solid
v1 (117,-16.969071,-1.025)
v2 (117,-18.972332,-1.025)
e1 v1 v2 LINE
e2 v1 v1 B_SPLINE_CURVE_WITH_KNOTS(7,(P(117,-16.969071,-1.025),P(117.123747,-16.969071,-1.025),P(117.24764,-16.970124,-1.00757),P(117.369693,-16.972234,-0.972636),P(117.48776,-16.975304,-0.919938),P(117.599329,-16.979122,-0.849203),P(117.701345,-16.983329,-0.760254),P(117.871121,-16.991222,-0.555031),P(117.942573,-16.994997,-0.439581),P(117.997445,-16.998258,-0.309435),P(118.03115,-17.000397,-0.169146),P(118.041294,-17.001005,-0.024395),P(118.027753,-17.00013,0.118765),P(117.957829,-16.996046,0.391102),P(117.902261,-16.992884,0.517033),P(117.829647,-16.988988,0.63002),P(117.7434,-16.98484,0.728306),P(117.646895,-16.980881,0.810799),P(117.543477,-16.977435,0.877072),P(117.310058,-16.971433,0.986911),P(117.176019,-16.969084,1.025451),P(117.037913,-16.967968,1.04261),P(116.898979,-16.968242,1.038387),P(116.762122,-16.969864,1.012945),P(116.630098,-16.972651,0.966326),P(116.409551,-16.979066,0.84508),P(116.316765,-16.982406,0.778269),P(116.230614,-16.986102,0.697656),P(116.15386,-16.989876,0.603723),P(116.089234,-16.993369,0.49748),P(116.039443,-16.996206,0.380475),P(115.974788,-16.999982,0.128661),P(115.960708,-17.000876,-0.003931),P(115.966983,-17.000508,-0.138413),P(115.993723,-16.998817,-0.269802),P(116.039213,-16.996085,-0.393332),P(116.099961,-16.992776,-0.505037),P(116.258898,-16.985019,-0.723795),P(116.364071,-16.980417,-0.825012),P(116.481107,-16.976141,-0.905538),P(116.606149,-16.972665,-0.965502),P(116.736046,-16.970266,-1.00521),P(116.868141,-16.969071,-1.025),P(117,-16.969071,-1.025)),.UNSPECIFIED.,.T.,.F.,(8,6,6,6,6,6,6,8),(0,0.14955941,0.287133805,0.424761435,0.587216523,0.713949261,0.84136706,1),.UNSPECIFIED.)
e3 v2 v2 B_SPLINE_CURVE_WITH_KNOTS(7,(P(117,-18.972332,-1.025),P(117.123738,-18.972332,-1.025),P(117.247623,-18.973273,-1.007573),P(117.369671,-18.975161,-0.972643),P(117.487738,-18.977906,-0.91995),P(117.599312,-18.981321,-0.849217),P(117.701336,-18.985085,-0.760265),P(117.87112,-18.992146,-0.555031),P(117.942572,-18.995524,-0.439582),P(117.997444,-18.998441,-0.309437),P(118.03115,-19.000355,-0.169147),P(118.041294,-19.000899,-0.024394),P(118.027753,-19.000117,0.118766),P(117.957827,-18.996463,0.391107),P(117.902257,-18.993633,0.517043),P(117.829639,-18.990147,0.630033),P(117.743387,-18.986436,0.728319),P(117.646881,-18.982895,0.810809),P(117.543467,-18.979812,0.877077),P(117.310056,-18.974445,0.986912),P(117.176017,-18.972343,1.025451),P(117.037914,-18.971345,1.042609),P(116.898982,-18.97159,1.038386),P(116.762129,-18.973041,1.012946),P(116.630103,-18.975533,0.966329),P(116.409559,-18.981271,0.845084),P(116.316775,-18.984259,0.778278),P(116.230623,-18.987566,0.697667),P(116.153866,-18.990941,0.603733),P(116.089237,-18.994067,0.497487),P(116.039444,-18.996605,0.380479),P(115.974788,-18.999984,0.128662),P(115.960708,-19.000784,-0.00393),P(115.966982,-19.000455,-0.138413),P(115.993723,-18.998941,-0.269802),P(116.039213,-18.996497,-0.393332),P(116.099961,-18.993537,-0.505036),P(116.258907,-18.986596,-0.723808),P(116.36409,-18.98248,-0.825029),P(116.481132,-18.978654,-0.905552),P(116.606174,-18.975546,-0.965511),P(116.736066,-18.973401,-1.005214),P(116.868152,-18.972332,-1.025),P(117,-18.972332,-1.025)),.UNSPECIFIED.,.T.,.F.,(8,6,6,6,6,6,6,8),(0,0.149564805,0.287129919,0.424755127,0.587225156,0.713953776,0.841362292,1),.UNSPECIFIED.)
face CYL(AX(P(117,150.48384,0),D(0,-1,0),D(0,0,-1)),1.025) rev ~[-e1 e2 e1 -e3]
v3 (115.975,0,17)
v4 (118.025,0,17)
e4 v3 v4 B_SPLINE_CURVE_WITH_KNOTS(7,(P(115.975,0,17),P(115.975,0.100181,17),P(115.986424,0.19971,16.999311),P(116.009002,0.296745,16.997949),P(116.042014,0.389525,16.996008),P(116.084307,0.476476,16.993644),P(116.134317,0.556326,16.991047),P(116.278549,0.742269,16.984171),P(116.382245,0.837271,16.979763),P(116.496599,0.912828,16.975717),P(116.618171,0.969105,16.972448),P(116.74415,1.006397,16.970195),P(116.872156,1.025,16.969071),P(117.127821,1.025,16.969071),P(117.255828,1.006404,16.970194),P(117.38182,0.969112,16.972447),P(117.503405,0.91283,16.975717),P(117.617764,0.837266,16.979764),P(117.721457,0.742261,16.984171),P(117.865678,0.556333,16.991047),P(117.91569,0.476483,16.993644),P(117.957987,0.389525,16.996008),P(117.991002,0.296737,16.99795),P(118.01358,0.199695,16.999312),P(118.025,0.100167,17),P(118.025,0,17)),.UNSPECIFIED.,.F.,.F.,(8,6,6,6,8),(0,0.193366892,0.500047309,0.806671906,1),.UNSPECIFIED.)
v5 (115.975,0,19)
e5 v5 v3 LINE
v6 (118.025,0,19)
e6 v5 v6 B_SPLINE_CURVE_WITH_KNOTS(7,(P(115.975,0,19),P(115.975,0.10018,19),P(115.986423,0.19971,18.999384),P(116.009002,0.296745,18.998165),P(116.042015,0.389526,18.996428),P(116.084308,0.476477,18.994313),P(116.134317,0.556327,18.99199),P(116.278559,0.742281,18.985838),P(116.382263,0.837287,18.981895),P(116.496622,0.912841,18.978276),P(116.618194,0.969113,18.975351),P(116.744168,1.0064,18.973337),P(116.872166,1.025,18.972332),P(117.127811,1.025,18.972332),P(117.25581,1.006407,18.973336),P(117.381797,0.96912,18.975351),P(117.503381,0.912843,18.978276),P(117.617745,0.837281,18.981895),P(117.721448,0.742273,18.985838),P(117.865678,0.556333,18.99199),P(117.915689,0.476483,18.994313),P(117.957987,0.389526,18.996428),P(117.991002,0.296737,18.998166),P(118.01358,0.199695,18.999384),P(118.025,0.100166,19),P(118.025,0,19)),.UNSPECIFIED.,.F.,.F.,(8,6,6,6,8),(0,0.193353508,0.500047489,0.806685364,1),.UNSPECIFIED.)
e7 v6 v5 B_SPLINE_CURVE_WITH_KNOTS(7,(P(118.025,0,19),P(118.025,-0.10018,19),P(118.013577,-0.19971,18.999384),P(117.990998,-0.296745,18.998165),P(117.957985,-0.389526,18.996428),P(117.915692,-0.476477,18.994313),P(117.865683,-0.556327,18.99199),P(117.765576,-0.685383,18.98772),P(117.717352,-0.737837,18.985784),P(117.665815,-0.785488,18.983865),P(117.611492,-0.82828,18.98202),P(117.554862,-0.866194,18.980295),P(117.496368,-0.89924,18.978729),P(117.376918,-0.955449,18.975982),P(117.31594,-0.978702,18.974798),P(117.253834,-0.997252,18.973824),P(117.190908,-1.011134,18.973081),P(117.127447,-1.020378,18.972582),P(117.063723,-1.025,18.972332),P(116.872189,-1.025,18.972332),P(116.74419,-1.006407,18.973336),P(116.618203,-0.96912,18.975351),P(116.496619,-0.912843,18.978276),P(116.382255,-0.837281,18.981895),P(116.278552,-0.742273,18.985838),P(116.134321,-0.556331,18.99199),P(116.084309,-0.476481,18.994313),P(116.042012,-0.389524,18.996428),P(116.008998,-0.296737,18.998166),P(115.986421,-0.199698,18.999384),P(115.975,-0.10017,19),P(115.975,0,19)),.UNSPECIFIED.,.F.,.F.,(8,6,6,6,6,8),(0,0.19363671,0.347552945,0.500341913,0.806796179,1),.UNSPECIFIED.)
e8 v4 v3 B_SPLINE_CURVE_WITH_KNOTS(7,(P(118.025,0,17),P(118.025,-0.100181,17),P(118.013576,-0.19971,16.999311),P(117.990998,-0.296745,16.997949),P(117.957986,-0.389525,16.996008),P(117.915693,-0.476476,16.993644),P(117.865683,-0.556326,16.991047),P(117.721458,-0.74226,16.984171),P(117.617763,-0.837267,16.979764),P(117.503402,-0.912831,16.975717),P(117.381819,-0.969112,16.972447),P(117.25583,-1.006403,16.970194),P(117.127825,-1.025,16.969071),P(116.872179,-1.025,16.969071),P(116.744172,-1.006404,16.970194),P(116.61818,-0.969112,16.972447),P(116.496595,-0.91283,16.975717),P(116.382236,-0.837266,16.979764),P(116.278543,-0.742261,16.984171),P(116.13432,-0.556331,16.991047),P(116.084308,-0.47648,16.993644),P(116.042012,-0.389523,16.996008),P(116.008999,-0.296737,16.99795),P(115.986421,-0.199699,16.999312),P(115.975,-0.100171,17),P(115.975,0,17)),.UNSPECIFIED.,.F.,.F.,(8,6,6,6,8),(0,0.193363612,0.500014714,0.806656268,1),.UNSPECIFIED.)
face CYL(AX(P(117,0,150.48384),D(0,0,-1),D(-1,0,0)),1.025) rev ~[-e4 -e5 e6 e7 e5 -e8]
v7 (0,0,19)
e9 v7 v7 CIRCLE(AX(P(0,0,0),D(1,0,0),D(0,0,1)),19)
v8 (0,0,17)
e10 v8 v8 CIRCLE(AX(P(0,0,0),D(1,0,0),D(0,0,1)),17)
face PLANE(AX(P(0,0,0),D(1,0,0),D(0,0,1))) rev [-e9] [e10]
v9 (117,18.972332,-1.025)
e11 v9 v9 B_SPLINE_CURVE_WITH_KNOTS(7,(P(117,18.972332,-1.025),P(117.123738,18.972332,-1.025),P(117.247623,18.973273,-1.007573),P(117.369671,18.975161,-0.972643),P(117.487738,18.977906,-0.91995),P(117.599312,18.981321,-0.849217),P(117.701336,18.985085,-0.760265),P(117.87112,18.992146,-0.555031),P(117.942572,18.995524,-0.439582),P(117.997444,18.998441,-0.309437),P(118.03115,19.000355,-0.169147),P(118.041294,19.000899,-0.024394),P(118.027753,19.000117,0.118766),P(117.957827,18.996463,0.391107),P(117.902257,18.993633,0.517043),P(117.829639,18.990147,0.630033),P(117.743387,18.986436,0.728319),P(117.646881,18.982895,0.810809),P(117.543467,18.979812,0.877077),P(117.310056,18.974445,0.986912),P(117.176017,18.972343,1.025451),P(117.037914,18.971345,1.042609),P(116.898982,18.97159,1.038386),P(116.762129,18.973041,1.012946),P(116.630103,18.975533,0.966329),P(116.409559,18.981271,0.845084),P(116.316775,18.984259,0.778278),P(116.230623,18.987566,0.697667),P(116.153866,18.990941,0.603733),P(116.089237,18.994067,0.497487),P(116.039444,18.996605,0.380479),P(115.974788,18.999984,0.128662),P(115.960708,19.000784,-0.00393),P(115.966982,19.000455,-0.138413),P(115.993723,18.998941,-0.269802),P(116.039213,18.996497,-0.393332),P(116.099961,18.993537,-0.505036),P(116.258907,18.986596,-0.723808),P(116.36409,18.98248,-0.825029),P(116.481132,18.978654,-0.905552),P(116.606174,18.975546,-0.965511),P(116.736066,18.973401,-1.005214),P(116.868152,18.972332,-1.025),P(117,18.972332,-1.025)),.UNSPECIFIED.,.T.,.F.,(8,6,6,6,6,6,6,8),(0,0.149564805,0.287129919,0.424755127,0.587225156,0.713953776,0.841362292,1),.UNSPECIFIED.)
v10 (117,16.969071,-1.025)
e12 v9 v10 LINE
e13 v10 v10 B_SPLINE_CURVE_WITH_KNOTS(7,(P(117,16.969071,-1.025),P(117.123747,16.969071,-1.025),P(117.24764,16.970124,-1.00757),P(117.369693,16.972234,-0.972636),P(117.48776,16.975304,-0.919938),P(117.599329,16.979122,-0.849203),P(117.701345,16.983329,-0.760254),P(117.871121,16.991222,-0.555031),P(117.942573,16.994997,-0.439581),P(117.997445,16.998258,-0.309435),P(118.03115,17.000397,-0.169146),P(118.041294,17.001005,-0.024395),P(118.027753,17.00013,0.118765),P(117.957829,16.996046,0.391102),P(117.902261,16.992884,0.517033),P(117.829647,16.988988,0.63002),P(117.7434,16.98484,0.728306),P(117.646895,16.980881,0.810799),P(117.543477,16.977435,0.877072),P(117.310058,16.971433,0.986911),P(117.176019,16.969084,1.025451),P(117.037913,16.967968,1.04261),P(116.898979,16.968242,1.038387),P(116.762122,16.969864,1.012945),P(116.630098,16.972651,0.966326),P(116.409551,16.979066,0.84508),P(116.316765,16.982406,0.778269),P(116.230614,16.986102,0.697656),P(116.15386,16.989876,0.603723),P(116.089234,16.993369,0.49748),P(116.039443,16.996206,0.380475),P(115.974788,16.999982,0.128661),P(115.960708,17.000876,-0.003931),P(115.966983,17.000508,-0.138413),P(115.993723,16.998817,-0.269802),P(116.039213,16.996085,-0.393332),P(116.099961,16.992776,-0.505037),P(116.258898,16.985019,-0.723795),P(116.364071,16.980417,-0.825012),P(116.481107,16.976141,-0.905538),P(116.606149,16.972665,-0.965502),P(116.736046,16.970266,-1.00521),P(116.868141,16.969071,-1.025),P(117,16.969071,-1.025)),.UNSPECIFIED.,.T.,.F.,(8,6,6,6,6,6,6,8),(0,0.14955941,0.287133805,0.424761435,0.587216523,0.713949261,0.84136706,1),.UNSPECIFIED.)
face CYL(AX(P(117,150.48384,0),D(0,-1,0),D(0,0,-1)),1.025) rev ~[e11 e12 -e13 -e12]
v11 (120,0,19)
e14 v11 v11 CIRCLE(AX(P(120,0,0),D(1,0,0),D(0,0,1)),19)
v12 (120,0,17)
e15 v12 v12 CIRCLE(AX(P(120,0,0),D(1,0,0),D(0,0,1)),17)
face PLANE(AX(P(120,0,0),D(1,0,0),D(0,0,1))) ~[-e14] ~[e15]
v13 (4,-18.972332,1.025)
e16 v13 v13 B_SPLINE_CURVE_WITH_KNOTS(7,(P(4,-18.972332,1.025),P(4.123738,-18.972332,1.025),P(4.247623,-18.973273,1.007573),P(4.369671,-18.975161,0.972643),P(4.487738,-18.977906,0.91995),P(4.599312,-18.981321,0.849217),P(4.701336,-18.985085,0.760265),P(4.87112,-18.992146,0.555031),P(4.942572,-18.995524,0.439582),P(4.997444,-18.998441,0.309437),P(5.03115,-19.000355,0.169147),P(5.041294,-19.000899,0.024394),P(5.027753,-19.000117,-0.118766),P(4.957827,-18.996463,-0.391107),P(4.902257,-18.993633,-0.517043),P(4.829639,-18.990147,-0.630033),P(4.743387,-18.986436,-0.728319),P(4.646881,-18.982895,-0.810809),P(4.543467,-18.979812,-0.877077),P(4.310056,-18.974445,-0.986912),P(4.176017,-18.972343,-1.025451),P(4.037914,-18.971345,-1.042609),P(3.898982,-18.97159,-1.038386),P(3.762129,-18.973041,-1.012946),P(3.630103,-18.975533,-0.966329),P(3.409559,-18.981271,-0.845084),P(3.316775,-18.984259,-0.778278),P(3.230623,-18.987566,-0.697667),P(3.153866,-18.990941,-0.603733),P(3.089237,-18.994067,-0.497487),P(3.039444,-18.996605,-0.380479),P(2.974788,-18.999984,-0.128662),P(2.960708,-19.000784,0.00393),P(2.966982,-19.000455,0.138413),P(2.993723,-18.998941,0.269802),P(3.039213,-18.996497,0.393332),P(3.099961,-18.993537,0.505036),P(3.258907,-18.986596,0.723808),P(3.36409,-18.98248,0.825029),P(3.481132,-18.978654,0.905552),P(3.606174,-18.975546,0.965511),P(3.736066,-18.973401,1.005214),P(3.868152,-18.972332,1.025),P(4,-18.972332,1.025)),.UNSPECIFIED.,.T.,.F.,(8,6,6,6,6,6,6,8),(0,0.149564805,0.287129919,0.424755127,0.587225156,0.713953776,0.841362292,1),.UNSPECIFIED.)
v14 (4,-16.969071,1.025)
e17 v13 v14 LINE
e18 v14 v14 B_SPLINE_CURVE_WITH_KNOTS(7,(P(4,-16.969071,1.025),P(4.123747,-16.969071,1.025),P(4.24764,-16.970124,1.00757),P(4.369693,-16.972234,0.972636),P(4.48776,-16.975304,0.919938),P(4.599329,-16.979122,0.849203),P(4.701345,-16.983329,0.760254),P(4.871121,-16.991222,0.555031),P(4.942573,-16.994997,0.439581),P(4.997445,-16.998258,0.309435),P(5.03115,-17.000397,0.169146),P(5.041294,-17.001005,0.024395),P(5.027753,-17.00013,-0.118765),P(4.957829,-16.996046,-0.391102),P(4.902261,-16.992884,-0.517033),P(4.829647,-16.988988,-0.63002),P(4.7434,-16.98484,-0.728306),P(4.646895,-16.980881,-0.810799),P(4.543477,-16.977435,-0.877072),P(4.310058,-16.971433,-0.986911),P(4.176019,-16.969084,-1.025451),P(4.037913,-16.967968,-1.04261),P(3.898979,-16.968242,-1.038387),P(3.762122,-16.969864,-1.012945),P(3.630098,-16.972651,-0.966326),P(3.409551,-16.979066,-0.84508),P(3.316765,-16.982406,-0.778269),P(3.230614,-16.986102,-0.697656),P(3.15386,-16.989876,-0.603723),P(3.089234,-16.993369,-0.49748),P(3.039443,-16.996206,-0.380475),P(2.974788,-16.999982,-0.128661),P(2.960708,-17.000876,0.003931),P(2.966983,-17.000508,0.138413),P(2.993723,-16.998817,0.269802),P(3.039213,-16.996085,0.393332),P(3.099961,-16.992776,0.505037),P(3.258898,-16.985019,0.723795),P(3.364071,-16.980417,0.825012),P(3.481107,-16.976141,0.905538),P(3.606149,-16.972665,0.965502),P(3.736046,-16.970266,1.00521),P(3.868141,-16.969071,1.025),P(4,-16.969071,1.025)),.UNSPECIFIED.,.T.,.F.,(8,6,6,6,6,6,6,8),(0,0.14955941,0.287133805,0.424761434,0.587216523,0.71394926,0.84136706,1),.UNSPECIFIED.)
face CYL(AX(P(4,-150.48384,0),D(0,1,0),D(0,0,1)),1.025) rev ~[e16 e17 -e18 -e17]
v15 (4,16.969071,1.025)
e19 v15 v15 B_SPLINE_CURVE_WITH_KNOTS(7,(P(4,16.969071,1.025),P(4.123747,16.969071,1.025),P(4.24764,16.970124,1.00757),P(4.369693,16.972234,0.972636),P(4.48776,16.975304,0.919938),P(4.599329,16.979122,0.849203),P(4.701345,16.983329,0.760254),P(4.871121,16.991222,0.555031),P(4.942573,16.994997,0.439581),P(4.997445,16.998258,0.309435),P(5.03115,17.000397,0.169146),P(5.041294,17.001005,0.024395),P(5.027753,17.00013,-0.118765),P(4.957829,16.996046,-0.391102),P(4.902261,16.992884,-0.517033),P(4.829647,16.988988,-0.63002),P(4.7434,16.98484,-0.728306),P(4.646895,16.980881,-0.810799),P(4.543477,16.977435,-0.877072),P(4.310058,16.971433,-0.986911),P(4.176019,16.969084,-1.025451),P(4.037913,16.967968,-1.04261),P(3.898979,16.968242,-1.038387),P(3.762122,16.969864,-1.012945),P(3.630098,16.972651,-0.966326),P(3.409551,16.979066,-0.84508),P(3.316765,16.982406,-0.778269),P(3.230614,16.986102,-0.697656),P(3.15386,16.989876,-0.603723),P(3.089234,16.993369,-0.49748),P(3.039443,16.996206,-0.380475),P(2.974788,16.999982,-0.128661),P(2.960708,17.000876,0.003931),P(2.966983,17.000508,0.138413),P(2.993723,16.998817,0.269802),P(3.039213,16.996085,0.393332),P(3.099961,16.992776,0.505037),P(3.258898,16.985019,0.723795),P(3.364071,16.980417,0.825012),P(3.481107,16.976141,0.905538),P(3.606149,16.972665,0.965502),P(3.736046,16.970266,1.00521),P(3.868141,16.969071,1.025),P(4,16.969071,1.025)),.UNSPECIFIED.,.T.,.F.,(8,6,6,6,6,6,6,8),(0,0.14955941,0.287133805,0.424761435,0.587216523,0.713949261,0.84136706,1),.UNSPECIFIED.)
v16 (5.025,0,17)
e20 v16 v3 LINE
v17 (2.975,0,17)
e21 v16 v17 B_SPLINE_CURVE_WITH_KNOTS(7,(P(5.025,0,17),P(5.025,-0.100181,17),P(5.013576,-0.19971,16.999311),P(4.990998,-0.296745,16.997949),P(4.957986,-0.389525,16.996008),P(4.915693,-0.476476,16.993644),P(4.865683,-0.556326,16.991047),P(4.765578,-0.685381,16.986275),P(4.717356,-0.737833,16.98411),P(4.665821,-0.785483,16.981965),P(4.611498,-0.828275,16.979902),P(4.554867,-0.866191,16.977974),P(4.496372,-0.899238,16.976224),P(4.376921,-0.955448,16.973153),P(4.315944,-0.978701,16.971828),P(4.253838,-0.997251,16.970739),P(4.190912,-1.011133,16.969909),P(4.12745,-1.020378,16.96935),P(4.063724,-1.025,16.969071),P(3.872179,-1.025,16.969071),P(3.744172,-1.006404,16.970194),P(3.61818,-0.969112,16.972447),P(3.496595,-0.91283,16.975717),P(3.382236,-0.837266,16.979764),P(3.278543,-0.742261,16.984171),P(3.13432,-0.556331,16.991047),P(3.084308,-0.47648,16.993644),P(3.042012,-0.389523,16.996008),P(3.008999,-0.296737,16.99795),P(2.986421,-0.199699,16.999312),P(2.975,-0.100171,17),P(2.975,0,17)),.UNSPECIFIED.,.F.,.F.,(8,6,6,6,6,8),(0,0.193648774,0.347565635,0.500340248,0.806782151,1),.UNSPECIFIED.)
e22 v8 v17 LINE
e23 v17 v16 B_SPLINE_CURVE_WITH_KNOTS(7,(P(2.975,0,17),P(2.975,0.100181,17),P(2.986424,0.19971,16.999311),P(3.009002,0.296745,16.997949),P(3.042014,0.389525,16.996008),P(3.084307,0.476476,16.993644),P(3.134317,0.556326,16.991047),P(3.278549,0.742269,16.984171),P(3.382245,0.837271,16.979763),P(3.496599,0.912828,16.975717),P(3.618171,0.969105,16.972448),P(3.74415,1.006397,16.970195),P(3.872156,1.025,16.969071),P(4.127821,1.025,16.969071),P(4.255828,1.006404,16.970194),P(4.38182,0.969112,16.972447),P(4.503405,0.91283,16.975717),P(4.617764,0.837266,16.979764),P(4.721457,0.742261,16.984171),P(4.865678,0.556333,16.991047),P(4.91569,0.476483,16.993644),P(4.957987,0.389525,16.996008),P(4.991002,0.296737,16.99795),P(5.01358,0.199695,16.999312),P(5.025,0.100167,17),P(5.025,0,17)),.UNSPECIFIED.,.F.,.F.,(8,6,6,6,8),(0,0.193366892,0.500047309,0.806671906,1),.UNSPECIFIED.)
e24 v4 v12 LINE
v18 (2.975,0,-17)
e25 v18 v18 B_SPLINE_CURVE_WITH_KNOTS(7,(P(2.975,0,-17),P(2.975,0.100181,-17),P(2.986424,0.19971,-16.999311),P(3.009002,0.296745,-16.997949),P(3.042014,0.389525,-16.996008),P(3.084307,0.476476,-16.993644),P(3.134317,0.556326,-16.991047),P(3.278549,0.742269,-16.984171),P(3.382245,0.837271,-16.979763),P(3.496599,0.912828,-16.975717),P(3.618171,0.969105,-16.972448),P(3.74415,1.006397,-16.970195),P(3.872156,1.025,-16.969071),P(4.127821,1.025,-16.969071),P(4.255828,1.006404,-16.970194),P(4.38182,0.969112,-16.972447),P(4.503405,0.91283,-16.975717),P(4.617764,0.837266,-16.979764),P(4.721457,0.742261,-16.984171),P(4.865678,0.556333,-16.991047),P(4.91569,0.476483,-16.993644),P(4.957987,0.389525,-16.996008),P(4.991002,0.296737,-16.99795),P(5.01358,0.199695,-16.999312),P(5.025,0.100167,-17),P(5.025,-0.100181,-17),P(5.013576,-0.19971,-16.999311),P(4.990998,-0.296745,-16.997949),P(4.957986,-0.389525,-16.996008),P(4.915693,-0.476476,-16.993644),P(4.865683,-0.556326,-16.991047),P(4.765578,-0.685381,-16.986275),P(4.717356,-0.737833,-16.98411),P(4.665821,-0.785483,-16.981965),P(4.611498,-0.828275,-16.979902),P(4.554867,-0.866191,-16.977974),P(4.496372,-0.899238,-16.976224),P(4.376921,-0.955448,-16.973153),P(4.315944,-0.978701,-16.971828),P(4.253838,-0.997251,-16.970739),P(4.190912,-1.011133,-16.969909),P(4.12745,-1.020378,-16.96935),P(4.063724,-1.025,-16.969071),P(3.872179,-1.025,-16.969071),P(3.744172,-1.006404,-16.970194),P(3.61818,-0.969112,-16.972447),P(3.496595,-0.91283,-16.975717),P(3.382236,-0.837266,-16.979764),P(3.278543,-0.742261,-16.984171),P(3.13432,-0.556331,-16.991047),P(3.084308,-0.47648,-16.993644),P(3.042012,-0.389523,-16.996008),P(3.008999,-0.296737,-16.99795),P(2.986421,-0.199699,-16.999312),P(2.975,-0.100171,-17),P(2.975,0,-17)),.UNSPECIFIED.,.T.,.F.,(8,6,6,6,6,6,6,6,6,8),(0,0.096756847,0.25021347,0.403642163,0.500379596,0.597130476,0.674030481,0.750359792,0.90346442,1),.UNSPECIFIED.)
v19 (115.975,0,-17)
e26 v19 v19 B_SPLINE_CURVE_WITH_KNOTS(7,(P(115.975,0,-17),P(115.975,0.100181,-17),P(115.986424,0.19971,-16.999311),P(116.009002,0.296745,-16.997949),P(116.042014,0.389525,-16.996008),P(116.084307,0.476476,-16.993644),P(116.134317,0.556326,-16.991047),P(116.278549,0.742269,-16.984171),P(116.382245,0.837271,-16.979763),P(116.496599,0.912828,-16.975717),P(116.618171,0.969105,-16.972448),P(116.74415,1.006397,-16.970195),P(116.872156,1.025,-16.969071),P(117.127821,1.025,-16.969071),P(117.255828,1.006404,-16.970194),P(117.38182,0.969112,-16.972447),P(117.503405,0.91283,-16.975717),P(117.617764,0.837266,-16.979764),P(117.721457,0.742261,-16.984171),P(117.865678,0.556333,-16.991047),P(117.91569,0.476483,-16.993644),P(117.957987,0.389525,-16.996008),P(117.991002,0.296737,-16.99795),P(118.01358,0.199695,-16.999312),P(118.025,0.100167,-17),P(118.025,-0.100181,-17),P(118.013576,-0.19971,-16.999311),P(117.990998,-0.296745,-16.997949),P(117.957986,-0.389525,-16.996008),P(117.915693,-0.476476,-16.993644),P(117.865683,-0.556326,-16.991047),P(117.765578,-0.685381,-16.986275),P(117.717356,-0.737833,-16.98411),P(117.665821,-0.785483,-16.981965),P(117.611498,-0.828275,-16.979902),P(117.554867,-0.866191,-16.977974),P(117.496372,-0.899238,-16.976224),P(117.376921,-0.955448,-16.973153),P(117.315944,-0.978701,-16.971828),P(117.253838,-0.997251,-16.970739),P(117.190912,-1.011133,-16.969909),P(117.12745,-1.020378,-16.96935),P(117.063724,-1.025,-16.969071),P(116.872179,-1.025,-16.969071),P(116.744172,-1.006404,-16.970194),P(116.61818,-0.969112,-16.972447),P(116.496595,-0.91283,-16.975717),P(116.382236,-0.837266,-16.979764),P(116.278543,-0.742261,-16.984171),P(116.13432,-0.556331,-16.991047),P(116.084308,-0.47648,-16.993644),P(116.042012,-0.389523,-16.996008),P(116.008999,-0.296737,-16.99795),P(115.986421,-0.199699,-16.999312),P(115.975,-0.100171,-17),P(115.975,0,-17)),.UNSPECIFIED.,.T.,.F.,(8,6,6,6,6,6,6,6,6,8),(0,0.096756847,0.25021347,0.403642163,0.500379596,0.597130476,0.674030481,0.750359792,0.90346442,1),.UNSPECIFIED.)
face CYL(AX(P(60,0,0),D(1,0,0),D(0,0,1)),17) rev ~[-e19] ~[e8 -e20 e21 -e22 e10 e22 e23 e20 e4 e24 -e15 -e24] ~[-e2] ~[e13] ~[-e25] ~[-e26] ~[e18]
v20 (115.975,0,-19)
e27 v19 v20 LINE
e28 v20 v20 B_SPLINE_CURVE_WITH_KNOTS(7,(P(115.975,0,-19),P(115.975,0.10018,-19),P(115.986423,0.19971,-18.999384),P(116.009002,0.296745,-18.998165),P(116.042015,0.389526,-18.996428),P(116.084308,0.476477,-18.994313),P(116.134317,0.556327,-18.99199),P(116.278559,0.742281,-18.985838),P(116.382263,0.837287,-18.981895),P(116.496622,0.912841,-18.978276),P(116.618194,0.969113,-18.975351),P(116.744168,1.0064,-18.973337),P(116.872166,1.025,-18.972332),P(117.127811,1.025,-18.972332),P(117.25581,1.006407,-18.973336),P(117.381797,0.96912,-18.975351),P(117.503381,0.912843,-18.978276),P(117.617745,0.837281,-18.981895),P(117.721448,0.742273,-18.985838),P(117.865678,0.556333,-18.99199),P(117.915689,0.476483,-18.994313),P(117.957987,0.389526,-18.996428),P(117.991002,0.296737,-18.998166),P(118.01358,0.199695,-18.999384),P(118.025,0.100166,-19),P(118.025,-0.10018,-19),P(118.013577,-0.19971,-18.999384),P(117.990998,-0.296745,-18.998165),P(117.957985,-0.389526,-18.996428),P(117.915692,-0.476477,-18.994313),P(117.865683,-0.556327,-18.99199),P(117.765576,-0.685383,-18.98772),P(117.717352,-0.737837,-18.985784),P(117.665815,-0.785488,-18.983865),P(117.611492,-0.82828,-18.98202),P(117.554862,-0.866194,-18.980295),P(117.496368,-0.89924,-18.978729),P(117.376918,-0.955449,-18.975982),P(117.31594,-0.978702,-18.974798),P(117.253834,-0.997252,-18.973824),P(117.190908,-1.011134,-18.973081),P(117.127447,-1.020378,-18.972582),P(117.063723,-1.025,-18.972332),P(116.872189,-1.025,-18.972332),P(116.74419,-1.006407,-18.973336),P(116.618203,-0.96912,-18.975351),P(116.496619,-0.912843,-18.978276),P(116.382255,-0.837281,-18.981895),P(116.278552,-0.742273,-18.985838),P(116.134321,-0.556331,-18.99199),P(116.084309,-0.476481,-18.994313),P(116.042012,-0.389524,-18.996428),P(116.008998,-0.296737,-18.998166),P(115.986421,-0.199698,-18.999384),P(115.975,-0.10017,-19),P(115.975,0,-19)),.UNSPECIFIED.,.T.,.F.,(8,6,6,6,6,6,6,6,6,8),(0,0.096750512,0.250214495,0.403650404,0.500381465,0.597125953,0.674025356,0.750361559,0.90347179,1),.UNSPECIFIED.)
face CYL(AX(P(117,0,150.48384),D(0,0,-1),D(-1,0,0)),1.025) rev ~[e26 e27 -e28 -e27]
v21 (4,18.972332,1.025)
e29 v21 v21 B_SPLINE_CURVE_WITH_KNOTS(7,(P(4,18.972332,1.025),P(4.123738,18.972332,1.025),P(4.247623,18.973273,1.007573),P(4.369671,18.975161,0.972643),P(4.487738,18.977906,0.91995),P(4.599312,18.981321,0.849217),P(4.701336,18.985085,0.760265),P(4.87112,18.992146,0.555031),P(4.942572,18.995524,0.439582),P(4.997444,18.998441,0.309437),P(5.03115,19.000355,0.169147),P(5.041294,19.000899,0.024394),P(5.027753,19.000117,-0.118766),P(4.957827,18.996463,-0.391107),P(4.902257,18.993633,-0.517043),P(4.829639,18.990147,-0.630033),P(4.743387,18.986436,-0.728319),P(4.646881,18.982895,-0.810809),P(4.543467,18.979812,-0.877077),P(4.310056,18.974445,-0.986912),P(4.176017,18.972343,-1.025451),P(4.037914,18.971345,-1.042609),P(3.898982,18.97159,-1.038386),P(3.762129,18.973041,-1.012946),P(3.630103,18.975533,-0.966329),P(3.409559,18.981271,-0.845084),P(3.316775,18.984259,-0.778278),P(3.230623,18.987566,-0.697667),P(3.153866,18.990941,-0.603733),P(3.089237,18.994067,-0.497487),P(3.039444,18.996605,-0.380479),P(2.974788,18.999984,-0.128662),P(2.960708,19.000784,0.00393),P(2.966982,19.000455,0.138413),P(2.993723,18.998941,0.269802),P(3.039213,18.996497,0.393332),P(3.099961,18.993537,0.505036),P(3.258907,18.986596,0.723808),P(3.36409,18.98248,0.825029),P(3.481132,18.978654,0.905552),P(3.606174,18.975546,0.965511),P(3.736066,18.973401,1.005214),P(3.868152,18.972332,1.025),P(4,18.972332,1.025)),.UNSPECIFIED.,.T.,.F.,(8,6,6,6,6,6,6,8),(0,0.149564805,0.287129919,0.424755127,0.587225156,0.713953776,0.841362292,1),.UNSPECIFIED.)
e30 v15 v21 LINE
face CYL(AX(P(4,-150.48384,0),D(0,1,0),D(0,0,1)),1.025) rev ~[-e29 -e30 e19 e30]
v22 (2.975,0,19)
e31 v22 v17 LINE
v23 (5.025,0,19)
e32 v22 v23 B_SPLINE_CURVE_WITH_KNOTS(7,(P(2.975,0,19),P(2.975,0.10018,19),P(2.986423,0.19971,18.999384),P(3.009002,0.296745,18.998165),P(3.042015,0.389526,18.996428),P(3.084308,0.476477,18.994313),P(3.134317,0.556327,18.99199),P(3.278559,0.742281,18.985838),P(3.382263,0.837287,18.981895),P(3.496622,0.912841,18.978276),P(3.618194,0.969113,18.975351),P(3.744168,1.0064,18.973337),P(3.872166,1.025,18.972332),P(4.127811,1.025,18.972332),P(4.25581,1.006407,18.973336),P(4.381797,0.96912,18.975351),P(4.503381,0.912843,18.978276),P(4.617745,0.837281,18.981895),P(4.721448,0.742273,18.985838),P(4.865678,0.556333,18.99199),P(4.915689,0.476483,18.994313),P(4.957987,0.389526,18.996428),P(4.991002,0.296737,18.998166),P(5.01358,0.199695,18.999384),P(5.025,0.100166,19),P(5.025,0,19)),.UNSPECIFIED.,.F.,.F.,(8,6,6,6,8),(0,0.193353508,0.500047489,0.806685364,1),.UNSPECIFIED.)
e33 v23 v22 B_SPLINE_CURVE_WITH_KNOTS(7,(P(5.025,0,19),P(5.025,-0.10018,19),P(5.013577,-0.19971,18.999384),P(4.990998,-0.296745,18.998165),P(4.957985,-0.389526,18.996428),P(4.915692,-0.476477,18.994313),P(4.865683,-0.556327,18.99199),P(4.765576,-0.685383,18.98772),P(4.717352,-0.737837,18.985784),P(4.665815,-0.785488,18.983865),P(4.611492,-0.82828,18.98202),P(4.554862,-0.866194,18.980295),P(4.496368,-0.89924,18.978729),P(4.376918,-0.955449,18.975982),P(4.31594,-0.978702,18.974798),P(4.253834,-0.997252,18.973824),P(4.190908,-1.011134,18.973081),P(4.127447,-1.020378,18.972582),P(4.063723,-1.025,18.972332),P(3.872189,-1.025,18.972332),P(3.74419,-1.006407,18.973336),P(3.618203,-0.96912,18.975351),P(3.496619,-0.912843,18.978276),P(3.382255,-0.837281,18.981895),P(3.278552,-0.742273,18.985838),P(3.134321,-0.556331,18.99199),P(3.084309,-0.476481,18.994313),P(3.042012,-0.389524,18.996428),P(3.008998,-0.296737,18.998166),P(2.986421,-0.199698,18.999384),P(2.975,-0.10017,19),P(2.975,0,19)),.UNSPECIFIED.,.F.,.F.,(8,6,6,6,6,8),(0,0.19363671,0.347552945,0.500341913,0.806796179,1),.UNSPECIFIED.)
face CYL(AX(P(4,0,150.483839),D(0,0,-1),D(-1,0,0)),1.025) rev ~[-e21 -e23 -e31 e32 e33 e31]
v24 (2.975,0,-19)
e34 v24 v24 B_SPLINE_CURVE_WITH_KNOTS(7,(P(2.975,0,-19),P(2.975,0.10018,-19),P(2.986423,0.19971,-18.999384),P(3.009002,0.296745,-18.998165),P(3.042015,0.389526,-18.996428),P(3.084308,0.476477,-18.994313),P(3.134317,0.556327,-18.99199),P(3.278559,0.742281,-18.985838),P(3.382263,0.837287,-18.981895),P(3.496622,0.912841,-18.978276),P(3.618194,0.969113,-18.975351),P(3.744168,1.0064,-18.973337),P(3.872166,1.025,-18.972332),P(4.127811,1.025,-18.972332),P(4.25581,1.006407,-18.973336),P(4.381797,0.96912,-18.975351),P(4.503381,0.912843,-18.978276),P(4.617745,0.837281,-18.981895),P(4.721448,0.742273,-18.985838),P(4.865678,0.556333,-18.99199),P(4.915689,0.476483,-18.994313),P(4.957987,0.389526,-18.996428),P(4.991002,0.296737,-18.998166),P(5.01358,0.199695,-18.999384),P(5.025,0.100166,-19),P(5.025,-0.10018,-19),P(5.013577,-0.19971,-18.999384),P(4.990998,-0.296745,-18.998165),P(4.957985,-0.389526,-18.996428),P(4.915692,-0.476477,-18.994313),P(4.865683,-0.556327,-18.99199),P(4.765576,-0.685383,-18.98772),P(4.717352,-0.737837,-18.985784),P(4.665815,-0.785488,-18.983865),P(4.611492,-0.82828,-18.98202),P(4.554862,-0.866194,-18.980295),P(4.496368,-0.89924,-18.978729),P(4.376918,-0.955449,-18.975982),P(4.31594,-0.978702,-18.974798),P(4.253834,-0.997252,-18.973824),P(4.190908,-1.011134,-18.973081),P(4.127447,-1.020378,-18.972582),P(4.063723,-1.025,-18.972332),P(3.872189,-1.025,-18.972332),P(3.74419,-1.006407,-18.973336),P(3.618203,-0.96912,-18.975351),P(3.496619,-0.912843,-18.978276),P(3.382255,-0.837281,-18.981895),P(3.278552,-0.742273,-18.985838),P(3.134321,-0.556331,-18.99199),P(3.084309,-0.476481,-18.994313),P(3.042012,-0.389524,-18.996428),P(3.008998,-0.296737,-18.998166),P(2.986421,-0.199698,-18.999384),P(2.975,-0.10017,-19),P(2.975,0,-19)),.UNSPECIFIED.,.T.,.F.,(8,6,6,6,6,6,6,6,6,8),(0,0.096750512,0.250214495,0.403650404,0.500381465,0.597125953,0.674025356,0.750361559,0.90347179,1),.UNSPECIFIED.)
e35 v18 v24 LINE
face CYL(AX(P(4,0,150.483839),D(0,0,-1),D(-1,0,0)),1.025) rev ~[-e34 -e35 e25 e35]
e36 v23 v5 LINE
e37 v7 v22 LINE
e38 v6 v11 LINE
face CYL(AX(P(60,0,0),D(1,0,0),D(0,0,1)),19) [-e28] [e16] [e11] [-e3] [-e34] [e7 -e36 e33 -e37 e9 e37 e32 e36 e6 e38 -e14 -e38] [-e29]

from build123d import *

# Parameters (mm, degrees)
SKETCH1_W                     = 120
SKETCH1_H                     = 2
M2_5_TAPPED_HOLE1_D           = 2.05
M2_5_TAPPED_HOLE1_ON_FACE_2_D = 2.05
M2_5_TAPPED_HOLE2_D           = 2.05
M2_5_TAPPED_HOLE2_ON_FACE_2_D = 2.05


with BuildPart() as part:
    # Sketch1 → Revolve1 (revolve)
    with BuildSketch(Plane.XY):
        with Locations((60, 18)):
            Rectangle(SKETCH1_W, SKETCH1_H)
    revolve(axis=Axis((-97.700575873, 0, 0), (1, 0, 0)))

    # M2.5 Tapped Hole1 (through all)
    with Locations(Plane(origin=(4, 0, 19), x_dir=(1, 0, 0), z_dir=(0, 0, 1))):
        with Locations((0, 0)):
            Hole(M2_5_TAPPED_HOLE1_D / 2)

    # M2.5 Tapped Hole1 on face 2 (through all)
    with Locations(Plane(origin=(4, -19, 0), x_dir=(0, 0, -1), z_dir=(0, -1, 0))):
        with Locations((0, 0)):
            Hole(M2_5_TAPPED_HOLE1_ON_FACE_2_D / 2)

    # M2.5 Tapped Hole2 (through all)
    with Locations(Plane(origin=(117, 19, 0), x_dir=(0, 0, 1), z_dir=(0, 1, 0))):
        with Locations((0, 0)):
            Hole(M2_5_TAPPED_HOLE2_D / 2)

    # M2.5 Tapped Hole2 on face 2 (through all)
    with Locations(Plane(origin=(117, 0, 19), x_dir=(1, 0, 0), z_dir=(0, 0, 1))):
        with Locations((0, 0)):
            Hole(M2_5_TAPPED_HOLE2_ON_FACE_2_D / 2)


solid = part.part
